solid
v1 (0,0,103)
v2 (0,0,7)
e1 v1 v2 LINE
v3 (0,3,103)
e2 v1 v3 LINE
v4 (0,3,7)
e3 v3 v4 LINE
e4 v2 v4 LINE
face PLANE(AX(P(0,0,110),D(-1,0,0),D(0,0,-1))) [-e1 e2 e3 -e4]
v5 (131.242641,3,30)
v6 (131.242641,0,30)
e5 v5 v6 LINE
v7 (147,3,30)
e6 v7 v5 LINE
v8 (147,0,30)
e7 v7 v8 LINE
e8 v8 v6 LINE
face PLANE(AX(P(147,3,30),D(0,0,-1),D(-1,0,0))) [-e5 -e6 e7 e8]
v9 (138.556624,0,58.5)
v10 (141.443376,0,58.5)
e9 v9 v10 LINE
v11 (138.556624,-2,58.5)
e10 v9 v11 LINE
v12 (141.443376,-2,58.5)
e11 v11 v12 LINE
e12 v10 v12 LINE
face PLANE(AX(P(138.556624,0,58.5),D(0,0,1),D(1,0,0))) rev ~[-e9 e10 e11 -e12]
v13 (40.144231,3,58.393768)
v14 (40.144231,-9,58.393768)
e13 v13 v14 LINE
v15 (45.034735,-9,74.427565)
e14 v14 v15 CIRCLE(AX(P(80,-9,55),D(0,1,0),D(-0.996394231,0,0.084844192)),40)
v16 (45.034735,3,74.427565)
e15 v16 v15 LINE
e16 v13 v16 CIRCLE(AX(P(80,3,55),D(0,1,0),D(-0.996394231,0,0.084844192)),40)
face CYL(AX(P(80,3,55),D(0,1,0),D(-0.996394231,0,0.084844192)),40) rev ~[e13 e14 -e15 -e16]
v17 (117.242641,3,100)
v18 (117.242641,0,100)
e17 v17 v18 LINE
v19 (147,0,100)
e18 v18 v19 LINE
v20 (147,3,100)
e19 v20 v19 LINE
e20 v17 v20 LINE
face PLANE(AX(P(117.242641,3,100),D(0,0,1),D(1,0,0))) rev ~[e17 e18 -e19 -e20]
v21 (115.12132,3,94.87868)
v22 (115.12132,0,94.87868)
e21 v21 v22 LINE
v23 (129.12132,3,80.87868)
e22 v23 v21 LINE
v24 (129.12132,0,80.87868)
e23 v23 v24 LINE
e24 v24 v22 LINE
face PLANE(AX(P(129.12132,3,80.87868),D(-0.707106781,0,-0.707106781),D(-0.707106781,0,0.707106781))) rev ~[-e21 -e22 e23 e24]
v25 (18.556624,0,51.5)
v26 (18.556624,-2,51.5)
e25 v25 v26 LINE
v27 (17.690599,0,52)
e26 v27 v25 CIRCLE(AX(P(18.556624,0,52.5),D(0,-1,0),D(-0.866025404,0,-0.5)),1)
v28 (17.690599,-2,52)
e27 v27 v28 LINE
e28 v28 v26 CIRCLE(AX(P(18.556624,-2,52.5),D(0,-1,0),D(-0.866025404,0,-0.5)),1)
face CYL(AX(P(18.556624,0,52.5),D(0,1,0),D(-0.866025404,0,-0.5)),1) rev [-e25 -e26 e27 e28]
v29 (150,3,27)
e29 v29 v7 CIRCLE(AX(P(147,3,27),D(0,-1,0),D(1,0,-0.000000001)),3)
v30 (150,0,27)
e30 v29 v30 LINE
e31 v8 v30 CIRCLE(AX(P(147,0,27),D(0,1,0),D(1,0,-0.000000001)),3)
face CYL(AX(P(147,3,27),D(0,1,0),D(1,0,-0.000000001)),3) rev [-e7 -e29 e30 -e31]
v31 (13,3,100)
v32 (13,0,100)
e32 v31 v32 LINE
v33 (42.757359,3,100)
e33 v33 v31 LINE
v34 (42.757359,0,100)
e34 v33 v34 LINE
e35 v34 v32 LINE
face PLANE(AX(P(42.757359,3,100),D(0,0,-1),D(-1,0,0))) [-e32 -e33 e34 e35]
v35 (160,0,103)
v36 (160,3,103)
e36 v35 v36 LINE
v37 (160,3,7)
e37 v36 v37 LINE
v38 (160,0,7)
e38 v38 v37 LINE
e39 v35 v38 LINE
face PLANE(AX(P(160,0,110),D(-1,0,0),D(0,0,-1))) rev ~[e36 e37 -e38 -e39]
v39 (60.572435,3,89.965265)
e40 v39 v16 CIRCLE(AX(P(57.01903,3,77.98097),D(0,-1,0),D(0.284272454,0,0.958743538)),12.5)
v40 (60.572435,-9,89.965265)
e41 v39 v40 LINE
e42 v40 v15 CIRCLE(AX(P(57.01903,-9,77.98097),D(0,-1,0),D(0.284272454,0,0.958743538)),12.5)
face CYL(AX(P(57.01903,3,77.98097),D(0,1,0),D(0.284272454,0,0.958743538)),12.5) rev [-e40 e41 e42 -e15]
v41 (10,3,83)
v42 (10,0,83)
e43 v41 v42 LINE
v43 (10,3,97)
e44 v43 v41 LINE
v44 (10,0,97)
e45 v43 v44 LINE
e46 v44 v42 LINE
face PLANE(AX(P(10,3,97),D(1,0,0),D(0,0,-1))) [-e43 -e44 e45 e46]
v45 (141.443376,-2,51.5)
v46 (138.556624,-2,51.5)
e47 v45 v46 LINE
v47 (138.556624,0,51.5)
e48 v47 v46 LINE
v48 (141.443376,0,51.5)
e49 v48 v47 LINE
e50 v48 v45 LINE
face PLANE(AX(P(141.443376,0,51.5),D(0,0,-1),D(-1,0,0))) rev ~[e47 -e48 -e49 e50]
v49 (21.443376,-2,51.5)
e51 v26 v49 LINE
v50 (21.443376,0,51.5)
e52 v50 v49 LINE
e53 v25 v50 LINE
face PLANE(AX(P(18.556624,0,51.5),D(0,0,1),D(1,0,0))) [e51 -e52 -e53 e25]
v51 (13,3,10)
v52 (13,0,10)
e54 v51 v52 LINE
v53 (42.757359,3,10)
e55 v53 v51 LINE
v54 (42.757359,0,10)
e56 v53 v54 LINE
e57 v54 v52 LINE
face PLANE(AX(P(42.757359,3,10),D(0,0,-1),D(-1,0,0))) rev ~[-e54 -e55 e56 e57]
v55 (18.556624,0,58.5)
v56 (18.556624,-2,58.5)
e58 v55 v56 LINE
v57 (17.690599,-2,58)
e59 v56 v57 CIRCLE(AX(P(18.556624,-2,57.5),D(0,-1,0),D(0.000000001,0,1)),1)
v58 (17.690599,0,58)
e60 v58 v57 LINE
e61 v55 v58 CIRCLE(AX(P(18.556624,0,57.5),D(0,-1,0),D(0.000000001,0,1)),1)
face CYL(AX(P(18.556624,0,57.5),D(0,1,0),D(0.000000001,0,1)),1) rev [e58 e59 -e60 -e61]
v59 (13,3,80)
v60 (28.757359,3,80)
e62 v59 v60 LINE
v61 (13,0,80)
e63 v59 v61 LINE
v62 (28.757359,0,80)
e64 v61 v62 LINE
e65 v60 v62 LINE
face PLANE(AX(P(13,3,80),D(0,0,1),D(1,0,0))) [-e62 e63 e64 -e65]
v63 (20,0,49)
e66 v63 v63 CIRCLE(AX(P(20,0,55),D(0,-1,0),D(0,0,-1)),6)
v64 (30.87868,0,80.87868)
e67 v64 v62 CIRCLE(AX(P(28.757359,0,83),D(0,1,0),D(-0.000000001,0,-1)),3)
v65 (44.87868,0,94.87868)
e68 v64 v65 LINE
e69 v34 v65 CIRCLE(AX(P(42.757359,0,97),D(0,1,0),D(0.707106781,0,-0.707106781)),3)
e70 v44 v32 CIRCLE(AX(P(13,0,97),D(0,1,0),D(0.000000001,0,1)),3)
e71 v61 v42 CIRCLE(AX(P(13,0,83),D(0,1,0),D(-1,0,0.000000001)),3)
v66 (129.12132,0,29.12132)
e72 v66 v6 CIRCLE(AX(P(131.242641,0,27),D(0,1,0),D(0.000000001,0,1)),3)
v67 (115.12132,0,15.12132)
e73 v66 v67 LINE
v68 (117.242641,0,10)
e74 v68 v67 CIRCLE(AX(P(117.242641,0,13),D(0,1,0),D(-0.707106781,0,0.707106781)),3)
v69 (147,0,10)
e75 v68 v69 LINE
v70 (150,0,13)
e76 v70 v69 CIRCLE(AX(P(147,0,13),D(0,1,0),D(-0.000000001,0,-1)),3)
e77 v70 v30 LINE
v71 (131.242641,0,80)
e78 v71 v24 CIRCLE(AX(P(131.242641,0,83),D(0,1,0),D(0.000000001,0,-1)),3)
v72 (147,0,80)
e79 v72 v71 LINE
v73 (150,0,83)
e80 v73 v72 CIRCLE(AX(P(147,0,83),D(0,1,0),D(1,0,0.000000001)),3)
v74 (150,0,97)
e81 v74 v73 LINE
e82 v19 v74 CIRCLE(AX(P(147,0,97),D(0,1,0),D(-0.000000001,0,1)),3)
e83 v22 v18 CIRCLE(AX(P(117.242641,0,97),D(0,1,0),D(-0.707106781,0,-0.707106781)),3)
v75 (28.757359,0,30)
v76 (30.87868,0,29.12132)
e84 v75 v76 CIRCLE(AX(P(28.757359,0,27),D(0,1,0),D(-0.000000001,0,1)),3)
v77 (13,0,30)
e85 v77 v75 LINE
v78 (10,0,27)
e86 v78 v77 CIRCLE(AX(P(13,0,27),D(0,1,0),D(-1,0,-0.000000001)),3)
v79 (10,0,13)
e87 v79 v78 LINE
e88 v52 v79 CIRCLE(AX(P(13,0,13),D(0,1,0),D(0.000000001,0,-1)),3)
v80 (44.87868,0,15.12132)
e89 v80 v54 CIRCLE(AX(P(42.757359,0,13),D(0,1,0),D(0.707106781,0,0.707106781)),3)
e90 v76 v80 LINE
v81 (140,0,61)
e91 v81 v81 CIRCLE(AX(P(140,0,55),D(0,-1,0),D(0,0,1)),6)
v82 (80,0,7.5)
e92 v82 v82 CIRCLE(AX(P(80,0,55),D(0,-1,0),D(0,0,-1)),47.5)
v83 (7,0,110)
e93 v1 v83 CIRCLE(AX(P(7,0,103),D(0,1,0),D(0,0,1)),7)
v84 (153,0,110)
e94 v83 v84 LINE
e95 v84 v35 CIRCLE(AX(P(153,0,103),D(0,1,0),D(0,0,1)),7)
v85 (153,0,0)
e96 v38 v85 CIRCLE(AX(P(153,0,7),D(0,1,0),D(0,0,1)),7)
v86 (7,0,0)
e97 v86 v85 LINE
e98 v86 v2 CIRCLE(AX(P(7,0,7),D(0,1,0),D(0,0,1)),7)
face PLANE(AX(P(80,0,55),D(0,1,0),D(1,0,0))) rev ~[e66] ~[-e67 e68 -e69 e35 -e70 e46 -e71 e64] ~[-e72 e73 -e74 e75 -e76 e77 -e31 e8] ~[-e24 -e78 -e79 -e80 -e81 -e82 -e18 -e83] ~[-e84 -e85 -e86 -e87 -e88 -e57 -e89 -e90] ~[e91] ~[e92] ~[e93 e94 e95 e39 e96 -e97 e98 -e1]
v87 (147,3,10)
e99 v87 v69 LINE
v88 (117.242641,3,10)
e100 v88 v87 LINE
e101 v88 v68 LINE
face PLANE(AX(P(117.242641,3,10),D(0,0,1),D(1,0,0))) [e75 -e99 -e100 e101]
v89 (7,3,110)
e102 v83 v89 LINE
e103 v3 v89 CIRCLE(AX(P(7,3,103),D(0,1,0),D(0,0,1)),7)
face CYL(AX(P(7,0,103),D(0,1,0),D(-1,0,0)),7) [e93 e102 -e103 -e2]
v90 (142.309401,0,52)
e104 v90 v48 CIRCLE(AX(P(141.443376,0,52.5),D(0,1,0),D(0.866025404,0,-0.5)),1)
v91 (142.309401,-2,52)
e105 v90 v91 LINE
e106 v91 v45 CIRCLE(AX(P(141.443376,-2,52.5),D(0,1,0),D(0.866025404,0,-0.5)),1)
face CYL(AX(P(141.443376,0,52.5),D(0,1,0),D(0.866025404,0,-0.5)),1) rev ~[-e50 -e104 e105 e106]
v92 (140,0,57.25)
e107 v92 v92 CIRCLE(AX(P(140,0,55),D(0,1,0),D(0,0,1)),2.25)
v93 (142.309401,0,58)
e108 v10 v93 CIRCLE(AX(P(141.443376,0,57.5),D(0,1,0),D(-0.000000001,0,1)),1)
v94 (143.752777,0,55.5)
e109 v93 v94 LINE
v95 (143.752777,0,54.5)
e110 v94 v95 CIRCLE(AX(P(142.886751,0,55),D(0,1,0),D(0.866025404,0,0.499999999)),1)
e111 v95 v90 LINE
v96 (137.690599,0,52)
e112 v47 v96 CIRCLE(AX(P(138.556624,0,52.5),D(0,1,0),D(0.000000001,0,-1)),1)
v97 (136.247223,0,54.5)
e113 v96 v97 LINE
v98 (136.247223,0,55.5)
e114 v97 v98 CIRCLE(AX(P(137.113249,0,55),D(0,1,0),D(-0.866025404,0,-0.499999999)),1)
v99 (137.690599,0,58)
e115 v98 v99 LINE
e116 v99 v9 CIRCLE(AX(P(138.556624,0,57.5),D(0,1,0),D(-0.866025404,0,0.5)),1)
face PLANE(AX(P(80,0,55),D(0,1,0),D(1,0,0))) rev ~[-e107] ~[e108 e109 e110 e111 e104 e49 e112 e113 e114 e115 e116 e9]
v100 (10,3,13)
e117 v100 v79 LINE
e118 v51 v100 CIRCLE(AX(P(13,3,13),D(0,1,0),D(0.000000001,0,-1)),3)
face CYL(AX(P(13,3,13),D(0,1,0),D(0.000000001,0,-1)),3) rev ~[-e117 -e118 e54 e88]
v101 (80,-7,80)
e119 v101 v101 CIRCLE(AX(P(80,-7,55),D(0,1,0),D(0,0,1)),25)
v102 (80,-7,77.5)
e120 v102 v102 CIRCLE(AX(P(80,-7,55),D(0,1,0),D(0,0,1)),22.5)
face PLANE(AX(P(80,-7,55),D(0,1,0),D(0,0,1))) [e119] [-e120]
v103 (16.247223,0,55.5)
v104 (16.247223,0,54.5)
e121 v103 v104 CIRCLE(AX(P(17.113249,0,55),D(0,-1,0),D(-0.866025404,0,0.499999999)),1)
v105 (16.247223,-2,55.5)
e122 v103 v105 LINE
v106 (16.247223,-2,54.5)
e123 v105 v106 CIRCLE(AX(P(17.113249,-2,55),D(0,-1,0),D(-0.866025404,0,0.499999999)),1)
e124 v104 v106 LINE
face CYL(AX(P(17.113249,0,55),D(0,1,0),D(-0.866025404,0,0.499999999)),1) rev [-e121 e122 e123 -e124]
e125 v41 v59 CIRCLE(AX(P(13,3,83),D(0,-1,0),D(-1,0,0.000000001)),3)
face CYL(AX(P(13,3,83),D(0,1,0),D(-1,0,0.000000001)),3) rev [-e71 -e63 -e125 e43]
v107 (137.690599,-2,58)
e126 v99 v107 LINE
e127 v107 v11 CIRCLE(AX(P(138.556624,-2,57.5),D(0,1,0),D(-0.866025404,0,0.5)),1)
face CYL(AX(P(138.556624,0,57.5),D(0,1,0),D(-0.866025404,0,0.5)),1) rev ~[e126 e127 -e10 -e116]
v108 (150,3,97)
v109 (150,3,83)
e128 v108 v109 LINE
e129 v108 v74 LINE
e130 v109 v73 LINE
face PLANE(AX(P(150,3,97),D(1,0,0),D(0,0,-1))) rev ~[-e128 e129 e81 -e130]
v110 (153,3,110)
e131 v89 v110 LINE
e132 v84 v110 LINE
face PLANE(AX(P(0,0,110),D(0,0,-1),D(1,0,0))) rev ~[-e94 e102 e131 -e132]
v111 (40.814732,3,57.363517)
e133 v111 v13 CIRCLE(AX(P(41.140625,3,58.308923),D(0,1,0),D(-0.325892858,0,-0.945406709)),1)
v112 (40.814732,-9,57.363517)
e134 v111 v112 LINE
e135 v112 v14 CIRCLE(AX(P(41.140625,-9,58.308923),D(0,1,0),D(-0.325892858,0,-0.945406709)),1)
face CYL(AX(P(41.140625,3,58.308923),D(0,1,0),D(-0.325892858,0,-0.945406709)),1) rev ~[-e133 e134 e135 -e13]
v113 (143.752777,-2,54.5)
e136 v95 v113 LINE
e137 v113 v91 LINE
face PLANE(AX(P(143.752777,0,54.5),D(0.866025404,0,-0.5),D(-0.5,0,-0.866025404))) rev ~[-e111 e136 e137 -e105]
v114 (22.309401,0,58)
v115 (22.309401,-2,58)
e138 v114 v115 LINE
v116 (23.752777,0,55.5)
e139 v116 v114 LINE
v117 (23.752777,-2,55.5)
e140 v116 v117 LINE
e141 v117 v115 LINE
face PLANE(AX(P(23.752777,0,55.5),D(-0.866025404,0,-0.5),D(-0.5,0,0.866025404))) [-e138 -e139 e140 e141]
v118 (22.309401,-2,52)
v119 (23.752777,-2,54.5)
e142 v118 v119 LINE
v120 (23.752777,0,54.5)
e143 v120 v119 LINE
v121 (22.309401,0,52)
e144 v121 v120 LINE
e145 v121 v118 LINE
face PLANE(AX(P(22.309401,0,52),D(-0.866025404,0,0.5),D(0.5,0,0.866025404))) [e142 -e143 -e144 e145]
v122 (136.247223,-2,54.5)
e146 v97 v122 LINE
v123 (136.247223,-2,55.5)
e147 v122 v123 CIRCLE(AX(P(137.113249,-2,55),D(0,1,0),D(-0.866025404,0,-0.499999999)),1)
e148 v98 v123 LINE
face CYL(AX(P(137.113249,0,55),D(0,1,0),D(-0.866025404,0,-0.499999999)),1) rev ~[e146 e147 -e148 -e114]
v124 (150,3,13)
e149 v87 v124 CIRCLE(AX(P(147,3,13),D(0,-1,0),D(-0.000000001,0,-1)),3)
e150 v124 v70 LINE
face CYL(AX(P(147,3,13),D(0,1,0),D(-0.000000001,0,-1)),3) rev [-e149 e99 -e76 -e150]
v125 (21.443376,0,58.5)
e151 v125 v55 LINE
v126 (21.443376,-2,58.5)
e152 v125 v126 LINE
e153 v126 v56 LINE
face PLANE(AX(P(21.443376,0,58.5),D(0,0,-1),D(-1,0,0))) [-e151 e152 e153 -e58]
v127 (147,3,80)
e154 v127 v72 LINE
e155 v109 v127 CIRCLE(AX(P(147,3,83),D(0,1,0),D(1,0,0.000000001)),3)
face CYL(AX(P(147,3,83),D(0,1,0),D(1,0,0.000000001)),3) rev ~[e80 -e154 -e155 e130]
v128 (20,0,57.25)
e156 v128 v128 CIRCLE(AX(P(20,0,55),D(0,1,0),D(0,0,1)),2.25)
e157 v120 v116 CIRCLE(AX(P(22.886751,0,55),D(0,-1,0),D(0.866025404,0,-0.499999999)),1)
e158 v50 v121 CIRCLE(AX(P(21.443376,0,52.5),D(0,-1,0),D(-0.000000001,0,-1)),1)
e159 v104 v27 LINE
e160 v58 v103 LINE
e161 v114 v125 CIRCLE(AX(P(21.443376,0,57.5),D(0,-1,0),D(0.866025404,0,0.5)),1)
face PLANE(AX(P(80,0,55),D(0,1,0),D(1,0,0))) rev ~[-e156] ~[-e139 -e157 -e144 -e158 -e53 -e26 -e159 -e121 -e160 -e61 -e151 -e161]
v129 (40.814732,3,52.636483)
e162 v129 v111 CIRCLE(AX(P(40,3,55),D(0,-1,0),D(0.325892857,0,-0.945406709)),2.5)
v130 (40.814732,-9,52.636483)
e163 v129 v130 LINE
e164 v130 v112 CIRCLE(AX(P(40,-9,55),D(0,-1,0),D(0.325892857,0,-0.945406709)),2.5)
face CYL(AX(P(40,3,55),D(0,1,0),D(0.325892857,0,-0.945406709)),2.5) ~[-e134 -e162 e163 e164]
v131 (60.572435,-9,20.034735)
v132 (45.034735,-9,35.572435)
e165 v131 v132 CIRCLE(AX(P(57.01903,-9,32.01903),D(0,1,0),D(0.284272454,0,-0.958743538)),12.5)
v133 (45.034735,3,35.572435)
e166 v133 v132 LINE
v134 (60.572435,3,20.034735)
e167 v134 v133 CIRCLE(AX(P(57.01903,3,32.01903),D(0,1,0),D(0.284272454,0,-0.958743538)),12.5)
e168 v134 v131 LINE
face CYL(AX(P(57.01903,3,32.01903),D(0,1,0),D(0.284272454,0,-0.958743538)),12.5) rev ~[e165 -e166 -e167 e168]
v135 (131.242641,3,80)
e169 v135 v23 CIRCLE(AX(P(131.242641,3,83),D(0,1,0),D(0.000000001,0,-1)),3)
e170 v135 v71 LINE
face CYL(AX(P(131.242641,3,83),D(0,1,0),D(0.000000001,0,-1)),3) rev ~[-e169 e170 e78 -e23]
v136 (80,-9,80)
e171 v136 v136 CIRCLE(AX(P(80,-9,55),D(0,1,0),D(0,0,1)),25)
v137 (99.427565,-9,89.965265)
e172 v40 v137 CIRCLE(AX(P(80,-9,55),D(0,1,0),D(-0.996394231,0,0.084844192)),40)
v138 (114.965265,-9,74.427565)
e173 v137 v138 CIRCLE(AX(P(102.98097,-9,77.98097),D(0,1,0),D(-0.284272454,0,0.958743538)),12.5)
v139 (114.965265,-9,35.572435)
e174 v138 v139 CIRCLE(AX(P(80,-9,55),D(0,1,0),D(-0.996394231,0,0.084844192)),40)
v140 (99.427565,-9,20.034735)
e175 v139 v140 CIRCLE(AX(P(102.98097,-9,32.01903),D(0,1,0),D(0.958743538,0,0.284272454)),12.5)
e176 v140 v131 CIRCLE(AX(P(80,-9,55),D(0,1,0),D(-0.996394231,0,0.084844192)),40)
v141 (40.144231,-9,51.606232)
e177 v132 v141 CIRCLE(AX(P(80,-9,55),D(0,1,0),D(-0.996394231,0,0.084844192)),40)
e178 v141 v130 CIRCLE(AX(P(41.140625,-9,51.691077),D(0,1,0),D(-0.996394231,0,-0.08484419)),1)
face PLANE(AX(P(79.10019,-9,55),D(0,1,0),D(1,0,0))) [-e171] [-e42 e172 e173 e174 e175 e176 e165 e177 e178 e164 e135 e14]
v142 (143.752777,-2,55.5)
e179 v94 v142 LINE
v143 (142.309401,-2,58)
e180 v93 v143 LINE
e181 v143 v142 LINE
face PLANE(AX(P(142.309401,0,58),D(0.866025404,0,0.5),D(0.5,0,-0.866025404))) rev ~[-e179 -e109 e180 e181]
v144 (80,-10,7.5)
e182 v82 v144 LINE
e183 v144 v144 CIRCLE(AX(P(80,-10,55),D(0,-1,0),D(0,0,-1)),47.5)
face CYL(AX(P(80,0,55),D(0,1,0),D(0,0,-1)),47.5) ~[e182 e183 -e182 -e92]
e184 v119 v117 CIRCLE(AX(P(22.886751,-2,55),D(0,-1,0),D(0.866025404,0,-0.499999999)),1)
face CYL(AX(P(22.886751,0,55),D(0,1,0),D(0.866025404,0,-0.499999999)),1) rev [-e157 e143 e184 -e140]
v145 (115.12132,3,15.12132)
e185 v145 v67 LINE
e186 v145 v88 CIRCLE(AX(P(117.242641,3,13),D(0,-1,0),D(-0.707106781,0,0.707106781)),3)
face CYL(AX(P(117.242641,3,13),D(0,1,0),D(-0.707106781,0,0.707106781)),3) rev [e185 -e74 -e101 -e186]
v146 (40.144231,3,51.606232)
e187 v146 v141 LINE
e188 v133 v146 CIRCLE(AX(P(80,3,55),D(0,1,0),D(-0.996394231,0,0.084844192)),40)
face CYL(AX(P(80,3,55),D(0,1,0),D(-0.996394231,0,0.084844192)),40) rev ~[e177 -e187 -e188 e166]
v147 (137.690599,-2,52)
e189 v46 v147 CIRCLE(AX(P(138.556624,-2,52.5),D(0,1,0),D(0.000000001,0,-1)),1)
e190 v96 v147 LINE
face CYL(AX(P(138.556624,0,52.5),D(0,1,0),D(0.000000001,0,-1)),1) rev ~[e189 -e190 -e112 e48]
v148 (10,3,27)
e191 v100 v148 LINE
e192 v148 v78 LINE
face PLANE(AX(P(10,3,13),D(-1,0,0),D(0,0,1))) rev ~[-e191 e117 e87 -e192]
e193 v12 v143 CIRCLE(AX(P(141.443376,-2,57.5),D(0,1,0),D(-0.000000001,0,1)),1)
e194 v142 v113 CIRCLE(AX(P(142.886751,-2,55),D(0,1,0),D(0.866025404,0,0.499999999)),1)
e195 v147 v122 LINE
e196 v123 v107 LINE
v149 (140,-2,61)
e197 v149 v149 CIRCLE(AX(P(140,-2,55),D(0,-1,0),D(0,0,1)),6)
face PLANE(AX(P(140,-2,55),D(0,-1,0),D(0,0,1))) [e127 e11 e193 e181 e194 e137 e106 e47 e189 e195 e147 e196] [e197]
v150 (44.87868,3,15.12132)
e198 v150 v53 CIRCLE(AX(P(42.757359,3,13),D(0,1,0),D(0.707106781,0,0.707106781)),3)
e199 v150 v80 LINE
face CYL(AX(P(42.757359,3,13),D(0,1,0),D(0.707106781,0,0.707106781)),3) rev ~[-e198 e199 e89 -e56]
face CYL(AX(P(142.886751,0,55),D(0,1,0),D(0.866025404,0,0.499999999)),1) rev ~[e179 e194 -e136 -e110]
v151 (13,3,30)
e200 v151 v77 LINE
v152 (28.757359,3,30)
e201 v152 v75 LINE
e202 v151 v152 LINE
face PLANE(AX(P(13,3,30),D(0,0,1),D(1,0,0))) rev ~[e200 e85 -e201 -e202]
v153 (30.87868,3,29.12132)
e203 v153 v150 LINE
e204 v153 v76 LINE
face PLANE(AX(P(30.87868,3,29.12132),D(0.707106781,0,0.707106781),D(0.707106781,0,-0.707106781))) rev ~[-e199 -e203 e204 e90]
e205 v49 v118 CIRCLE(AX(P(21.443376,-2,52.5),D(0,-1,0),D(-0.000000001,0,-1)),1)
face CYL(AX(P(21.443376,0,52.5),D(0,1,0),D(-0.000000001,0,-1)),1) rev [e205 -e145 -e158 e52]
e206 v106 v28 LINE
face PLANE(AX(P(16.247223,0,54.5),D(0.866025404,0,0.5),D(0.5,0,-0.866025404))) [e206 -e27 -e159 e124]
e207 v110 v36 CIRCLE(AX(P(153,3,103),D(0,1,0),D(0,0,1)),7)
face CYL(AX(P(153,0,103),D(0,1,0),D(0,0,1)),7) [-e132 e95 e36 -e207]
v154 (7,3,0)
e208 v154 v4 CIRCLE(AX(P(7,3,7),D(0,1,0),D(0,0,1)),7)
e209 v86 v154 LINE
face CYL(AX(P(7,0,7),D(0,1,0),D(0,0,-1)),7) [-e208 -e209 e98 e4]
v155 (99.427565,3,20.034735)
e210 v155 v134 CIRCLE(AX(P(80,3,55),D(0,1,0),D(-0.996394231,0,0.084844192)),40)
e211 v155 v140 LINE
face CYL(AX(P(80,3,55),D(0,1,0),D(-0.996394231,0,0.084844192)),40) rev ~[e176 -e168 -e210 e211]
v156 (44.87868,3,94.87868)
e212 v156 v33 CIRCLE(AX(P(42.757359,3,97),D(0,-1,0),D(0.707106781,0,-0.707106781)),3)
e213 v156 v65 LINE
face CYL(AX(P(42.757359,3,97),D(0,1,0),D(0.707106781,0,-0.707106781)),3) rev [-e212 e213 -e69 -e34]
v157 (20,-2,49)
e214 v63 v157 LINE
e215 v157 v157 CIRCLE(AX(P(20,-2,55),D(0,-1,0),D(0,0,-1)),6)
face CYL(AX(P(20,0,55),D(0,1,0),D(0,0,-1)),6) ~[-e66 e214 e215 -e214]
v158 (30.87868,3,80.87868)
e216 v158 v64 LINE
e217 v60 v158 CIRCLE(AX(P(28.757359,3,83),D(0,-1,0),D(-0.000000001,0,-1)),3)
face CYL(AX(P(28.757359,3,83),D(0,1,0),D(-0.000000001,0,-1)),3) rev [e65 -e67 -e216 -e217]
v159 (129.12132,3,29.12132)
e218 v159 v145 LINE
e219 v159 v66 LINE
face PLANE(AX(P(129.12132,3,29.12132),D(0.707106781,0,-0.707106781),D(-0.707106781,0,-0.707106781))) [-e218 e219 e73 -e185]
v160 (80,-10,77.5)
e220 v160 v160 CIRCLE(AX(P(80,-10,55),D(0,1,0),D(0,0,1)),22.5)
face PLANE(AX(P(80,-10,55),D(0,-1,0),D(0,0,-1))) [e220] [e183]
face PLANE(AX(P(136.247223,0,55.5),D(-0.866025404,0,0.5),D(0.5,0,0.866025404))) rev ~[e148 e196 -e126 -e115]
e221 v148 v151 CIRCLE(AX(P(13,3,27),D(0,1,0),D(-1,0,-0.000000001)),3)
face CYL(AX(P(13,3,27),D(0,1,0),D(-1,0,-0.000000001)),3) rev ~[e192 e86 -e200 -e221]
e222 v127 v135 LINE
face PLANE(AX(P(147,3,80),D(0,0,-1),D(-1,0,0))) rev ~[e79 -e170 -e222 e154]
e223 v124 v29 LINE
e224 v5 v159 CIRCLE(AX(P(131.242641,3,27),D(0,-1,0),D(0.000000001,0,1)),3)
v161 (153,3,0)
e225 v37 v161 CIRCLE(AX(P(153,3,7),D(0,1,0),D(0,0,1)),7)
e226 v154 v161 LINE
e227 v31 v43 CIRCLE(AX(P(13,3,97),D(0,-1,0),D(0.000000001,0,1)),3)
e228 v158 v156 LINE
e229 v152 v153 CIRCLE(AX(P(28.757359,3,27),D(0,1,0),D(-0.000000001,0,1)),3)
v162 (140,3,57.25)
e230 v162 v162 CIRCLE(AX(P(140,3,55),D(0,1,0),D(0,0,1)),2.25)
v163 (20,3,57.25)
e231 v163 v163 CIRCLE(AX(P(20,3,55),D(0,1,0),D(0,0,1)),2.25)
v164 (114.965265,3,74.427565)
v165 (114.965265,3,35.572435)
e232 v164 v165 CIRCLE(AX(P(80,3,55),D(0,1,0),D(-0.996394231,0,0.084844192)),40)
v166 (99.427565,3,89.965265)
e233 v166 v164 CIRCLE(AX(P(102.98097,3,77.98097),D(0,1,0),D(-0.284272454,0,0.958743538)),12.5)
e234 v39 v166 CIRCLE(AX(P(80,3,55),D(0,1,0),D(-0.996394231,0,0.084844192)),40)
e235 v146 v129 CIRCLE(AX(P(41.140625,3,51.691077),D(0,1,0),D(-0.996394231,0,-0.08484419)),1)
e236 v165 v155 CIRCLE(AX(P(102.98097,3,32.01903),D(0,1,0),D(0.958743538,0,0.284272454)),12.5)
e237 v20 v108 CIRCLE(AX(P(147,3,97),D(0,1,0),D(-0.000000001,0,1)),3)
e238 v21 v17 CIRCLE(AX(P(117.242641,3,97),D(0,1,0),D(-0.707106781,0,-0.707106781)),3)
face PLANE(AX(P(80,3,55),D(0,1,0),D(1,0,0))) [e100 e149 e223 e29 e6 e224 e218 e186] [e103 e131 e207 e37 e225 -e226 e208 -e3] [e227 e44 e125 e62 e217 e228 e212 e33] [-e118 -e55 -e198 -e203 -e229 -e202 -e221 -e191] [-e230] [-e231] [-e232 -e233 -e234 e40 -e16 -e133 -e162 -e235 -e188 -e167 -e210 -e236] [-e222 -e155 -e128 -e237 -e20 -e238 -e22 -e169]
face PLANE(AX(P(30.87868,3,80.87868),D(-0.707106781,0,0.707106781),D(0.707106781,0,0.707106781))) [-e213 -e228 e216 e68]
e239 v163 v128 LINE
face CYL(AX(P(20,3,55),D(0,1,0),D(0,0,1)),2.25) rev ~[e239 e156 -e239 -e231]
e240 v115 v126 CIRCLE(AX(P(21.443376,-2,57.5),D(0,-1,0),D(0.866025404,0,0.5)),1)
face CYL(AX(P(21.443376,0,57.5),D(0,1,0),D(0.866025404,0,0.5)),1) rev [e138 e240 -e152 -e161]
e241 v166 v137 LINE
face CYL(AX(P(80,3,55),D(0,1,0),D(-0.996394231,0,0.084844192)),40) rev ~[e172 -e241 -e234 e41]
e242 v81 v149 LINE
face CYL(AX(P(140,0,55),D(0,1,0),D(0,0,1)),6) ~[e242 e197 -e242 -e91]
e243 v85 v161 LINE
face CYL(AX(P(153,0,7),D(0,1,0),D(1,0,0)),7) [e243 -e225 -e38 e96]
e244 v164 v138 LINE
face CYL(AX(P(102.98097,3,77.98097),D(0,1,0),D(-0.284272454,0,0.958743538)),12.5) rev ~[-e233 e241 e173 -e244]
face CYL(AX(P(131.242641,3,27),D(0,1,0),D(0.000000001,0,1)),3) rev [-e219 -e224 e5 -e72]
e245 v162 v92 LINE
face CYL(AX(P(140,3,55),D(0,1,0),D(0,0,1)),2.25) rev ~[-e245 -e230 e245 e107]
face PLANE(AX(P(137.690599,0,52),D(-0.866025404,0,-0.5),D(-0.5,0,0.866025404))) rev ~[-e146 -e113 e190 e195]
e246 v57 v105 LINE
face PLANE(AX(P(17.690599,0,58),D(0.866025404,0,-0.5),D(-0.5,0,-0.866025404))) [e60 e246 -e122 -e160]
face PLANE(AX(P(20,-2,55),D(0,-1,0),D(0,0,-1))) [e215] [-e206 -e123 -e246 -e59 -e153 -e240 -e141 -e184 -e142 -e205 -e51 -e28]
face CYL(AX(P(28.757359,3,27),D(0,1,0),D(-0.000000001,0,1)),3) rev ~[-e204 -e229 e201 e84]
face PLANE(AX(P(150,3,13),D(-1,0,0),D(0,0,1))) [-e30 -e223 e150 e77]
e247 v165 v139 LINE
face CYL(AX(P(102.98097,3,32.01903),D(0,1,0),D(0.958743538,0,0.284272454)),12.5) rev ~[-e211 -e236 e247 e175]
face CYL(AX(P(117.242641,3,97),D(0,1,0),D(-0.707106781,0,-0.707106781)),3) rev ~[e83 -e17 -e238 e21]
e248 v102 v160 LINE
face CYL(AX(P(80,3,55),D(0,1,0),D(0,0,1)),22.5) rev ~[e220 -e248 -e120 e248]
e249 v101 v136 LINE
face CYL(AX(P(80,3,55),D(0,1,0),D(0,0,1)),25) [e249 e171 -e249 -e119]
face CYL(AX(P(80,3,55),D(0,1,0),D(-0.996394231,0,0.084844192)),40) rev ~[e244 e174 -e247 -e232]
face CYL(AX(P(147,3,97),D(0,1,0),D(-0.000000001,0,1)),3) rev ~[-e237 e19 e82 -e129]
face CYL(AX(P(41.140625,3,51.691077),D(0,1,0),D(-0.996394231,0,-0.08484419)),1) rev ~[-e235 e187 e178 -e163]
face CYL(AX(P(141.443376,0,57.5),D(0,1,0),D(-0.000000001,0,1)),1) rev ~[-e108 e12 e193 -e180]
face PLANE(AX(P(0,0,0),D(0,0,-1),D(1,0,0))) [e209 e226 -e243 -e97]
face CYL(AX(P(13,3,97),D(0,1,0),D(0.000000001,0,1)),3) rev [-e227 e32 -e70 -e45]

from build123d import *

# Parameters (mm, degrees)
SKETCH1_W           = 160
SKETCH1_H           = 110
BOSS_EXTRUDE1_DEPTH = 3
SKETCH2_R           = 47.5
BOSS_EXTRUDE3_DEPTH = 10
FILLET1_R           = 7
FILLET2_R           = 7
FILLET3_R           = 7
FILLET4_R           = 7
CUT_EXTRUDE3_DEPTH  = 12
SKETCH8_R           = 25
CUT_EXTRUDE4_DEPTH  = 12
SKETCH9_R           = 22.5
CUT_EXTRUDE5_DEPTH  = 15
SKETCH11_R          = 2.25
CUT_EXTRUDE7_DEPTH  = 9
SKETCH12_R          = 6
BOSS_EXTRUDE4_DEPTH = 2
CUT_EXTRUDE8_DEPTH  = 10
SKETCH10_R          = 25
CUT_EXTRUDE9_DEPTH  = 10


with BuildPart() as part:
    # Sketch1 → Boss-Extrude1 (new body)
    with BuildSketch(Plane(origin=(0, 0, 0), x_dir=(1, 0, 0), z_dir=(0, 1, 0))):
        with Locations((80, -55)):
            Rectangle(SKETCH1_W, SKETCH1_H)
    extrude(amount=BOSS_EXTRUDE1_DEPTH)

    # Sketch2 → Boss-Extrude3 (add)
    with BuildSketch(Plane.XZ):
        with Locations(Location((80, 55, 0), (0, 0, 270))):
            Circle(SKETCH2_R)
    extrude(amount=BOSS_EXTRUDE3_DEPTH)

    # Fillet1
    fillet1_edges = [part.edges().sort_by_distance(p)[0] for p in [
        (160, 1.5, 110),
    ]]
    fillet(fillet1_edges, radius=FILLET1_R)

    # Fillet2
    fillet2_edges = [part.edges().sort_by_distance(p)[0] for p in [
        (160, 1.5, 0),
    ]]
    fillet(fillet2_edges, radius=FILLET2_R)

    # Fillet3
    fillet3_edges = [part.edges().sort_by_distance(p)[0] for p in [
        (0, 1.5, 0),
    ]]
    fillet(fillet3_edges, radius=FILLET3_R)

    # Fillet4
    fillet4_edges = [part.edges().sort_by_distance(p)[0] for p in [
        (0, 1.5, 110),
    ]]
    fillet(fillet4_edges, radius=FILLET4_R)

    # Sketch3 → Cut-Extrude3 (cut)
    with BuildSketch(Plane(origin=(0, 3, 0), x_dir=(1, 0, 0), z_dir=(0, 1, 0))):
        with BuildLine():
            ThreePointArc((45.034735386, -74.427564708), (51.715728753, -83.284271247), (60.572435292, -89.965264614))
            ThreePointArc((60.572435292, -89.965264614), (48.180194847, -86.819805153), (45.034735386, -74.427564708))
        make_face()
        with BuildLine():
            ThreePointArc((60.572435292, -20.034735386), (48.180194847, -23.180194847), (45.034735386, -35.572435292))
            ThreePointArc((45.034735386, -35.572435292), (51.715728753, -26.715728753), (60.572435292, -20.034735386))
        make_face()
        with BuildLine():
            ThreePointArc((114.965264614, -35.572435292), (111.819805153, -23.180194847), (99.427564708, -20.034735386))
            ThreePointArc((99.427564708, -20.034735386), (108.284271247, -26.715728753), (114.965264614, -35.572435292))
        make_face()
        with BuildLine():
            ThreePointArc((99.427564708, -89.965264614), (111.819805153, -86.819805153), (114.965264614, -74.427564708))
            ThreePointArc((114.965264614, -74.427564708), (108.284271247, -83.284271247), (99.427564708, -89.965264614))
        make_face()
    extrude(amount=-CUT_EXTRUDE3_DEPTH, mode=Mode.SUBTRACT)

    # Sketch8 → Cut-Extrude4 (cut)
    with BuildSketch(Plane(origin=(0, 3, 0), x_dir=(1, 0, 0), z_dir=(0, 1, 0))):
        with BuildLine():
            ThreePointArc((40.144230769, -58.393767674), (120, -55), (40.144230769, -51.606232326))
            ThreePointArc((40.144230769, -51.606232326), (40.30249314, -52.236544193), (40.814732143, -52.636483227))
            ThreePointArc((40.814732143, -52.636483227), (42.5, -55), (40.814732143, -57.363516773))
            ThreePointArc((40.814732143, -57.363516773), (40.30249314, -57.763455807), (40.144230769, -58.393767674))
        make_face()
        with Locations(Location((80, -55, 0), (0, 0, 270))):
            Circle(SKETCH8_R, mode=Mode.SUBTRACT)
    extrude(amount=-CUT_EXTRUDE4_DEPTH, mode=Mode.SUBTRACT)

    # Sketch9 → Cut-Extrude5 (cut)
    with BuildSketch(Plane(origin=(0, 3, 0), x_dir=(1, 0, 0), z_dir=(0, 1, 0))):
        with Locations(Location((80, -55, 0), (0, 0, 270))):
            Circle(SKETCH9_R)
    extrude(amount=-CUT_EXTRUDE5_DEPTH, mode=Mode.SUBTRACT)

    # Sketch11 → Cut-Extrude7 (cut)
    with BuildSketch(Plane(origin=(0, 3, 0), x_dir=(1, 0, 0), z_dir=(0, 1, 0))):
        with Locations(Location((20, -55, 0), (0, 0, 270))):
            Circle(SKETCH11_R)
        with Locations(Location((140, -55, 0), (0, 0, 270))):
            Circle(SKETCH11_R)
    extrude(amount=-CUT_EXTRUDE7_DEPTH, mode=Mode.SUBTRACT)

    # Sketch12 → Boss-Extrude4 (add)
    # profile 1 of 2: a face of its own
    with BuildSketch(Plane.XZ):
        with Locations(Location((20, 55, 0), (0, 0, 270))):
            Circle(SKETCH12_R)
        with BuildLine():
            Line((23.75277675, 55.5), (22.309401077, 58))
            ThreePointArc((22.309401077, 58), (21.943375673, 58.366025404), (21.443375673, 58.5))
            Line((21.443375673, 58.5), (18.556624327, 58.5))
            ThreePointArc((18.556624327, 58.5), (18.056624327, 58.366025404), (17.690598923, 58))
            Line((17.690598923, 58), (16.24722325, 55.5))
            ThreePointArc((16.24722325, 55.5), (16.113248654, 55), (16.24722325, 54.5))
            Line((16.24722325, 54.5), (17.690598923, 52))
            ThreePointArc((17.690598923, 52), (18.056624327, 51.633974596), (18.556624327, 51.5))
            Line((18.556624327, 51.5), (21.443375673, 51.5))
            ThreePointArc((21.443375673, 51.5), (21.943375673, 51.633974596), (22.309401077, 52))
            Line((22.309401077, 52), (23.75277675, 54.5))
            ThreePointArc((23.75277675, 54.5), (23.886751346, 55), (23.75277675, 55.5))
        make_face(mode=Mode.SUBTRACT)
    # profile 2 of 2: a face of its own
    with BuildSketch(Plane.XZ):
        with Locations(Location((140, 55, 0), (0, 0, 90))):
            Circle(SKETCH12_R)
        with BuildLine():
            Line((137.690598923, 52), (136.24722325, 54.5))
            ThreePointArc((136.24722325, 54.5), (136.113248654, 55), (136.24722325, 55.5))
            Line((136.24722325, 55.5), (137.690598923, 58))
            ThreePointArc((137.690598923, 58), (138.056624327, 58.366025404), (138.556624327, 58.5))
            Line((138.556624327, 58.5), (141.443375673, 58.5))
            ThreePointArc((141.443375673, 58.5), (141.943375673, 58.366025404), (142.309401077, 58))
            Line((142.309401077, 58), (143.75277675, 55.5))
            ThreePointArc((143.75277675, 55.5), (143.886751346, 55), (143.75277675, 54.5))
            Line((143.75277675, 54.5), (142.309401077, 52))
            ThreePointArc((142.309401077, 52), (141.943375673, 51.633974596), (141.443375673, 51.5))
            Line((141.443375673, 51.5), (138.556624327, 51.5))
            ThreePointArc((138.556624327, 51.5), (138.056624327, 51.633974596), (137.690598923, 52))
        make_face(mode=Mode.SUBTRACT)
    extrude(amount=BOSS_EXTRUDE4_DEPTH)

    # Sketch13 → Cut-Extrude8 (cut)
    with BuildSketch(Plane(origin=(0, 3, 0), x_dir=(1, 0, 0), z_dir=(0, 1, 0))):
        with BuildLine():
            Line((10, -13), (10, -27))
            ThreePointArc((10, -27), (10.878679656, -29.121320344), (13, -30))
            Line((13, -30), (28.757359313, -30))
            ThreePointArc((28.757359313, -30), (29.90540961, -29.771638598), (30.878679656, -29.121320344))
            Line((30.878679656, -29.121320344), (44.878679656, -15.121320344))
            ThreePointArc((44.878679656, -15.121320344), (45.52899791, -11.851949703), (42.757359313, -10))
            Line((42.757359313, -10), (13, -10))
            ThreePointArc((13, -10), (10.878679656, -10.878679656), (10, -13))
        make_face()
        with BuildLine():
            Line((129.121320344, -29.121320344), (115.121320344, -15.121320344))
            ThreePointArc((115.121320344, -15.121320344), (114.47100209, -11.851949703), (117.242640687, -10))
            Line((117.242640687, -10), (147, -10))
            ThreePointArc((147, -10), (149.121320344, -10.878679656), (150, -13))
            Line((150, -13), (150, -27))
            ThreePointArc((150, -27), (149.121320344, -29.121320344), (147, -30))
            Line((147, -30), (131.242640687, -30))
            ThreePointArc((131.242640687, -30), (130.09459039, -29.771638598), (129.121320344, -29.121320344))
        make_face()
        with BuildLine():
            Line((150, -97), (150, -83))
            ThreePointArc((150, -83), (149.121320344, -80.878679656), (147, -80))
            Line((147, -80), (131.242640687, -80))
            ThreePointArc((131.242640687, -80), (130.09459039, -80.228361402), (129.121320344, -80.878679656))
            Line((129.121320344, -80.878679656), (115.121320344, -94.878679656))
            ThreePointArc((115.121320344, -94.878679656), (114.47100209, -98.148050297), (117.242640687, -100))
            Line((117.242640687, -100), (147, -100))
            ThreePointArc((147, -100), (149.121320344, -99.121320344), (150, -97))
        make_face()
        with BuildLine():
            Line((30.878679656, -80.878679656), (44.878679656, -94.878679656))
            ThreePointArc((44.878679656, -94.878679656), (45.52899791, -98.148050297), (42.757359313, -100))
            Line((42.757359313, -100), (13, -100))
            ThreePointArc((13, -100), (10.878679656, -99.121320344), (10, -97))
            Line((10, -97), (10, -83))
            ThreePointArc((10, -83), (10.878679656, -80.878679656), (13, -80))
            Line((13, -80), (28.757359313, -80))
            ThreePointArc((28.757359313, -80), (29.90540961, -80.228361402), (30.878679656, -80.878679656))
        make_face()
    extrude(amount=-CUT_EXTRUDE8_DEPTH, mode=Mode.SUBTRACT)

    # Sketch10 → Cut-Extrude9 (cut)
    with BuildSketch(Plane(origin=(0, 3, 0), x_dir=(1, 0, 0), z_dir=(0, 1, 0))):
        with Locations(Location((80, -55, 0), (0, 0, 270))):
            Circle(SKETCH10_R)
    extrude(amount=-CUT_EXTRUDE9_DEPTH, mode=Mode.SUBTRACT)


solid = part.part
